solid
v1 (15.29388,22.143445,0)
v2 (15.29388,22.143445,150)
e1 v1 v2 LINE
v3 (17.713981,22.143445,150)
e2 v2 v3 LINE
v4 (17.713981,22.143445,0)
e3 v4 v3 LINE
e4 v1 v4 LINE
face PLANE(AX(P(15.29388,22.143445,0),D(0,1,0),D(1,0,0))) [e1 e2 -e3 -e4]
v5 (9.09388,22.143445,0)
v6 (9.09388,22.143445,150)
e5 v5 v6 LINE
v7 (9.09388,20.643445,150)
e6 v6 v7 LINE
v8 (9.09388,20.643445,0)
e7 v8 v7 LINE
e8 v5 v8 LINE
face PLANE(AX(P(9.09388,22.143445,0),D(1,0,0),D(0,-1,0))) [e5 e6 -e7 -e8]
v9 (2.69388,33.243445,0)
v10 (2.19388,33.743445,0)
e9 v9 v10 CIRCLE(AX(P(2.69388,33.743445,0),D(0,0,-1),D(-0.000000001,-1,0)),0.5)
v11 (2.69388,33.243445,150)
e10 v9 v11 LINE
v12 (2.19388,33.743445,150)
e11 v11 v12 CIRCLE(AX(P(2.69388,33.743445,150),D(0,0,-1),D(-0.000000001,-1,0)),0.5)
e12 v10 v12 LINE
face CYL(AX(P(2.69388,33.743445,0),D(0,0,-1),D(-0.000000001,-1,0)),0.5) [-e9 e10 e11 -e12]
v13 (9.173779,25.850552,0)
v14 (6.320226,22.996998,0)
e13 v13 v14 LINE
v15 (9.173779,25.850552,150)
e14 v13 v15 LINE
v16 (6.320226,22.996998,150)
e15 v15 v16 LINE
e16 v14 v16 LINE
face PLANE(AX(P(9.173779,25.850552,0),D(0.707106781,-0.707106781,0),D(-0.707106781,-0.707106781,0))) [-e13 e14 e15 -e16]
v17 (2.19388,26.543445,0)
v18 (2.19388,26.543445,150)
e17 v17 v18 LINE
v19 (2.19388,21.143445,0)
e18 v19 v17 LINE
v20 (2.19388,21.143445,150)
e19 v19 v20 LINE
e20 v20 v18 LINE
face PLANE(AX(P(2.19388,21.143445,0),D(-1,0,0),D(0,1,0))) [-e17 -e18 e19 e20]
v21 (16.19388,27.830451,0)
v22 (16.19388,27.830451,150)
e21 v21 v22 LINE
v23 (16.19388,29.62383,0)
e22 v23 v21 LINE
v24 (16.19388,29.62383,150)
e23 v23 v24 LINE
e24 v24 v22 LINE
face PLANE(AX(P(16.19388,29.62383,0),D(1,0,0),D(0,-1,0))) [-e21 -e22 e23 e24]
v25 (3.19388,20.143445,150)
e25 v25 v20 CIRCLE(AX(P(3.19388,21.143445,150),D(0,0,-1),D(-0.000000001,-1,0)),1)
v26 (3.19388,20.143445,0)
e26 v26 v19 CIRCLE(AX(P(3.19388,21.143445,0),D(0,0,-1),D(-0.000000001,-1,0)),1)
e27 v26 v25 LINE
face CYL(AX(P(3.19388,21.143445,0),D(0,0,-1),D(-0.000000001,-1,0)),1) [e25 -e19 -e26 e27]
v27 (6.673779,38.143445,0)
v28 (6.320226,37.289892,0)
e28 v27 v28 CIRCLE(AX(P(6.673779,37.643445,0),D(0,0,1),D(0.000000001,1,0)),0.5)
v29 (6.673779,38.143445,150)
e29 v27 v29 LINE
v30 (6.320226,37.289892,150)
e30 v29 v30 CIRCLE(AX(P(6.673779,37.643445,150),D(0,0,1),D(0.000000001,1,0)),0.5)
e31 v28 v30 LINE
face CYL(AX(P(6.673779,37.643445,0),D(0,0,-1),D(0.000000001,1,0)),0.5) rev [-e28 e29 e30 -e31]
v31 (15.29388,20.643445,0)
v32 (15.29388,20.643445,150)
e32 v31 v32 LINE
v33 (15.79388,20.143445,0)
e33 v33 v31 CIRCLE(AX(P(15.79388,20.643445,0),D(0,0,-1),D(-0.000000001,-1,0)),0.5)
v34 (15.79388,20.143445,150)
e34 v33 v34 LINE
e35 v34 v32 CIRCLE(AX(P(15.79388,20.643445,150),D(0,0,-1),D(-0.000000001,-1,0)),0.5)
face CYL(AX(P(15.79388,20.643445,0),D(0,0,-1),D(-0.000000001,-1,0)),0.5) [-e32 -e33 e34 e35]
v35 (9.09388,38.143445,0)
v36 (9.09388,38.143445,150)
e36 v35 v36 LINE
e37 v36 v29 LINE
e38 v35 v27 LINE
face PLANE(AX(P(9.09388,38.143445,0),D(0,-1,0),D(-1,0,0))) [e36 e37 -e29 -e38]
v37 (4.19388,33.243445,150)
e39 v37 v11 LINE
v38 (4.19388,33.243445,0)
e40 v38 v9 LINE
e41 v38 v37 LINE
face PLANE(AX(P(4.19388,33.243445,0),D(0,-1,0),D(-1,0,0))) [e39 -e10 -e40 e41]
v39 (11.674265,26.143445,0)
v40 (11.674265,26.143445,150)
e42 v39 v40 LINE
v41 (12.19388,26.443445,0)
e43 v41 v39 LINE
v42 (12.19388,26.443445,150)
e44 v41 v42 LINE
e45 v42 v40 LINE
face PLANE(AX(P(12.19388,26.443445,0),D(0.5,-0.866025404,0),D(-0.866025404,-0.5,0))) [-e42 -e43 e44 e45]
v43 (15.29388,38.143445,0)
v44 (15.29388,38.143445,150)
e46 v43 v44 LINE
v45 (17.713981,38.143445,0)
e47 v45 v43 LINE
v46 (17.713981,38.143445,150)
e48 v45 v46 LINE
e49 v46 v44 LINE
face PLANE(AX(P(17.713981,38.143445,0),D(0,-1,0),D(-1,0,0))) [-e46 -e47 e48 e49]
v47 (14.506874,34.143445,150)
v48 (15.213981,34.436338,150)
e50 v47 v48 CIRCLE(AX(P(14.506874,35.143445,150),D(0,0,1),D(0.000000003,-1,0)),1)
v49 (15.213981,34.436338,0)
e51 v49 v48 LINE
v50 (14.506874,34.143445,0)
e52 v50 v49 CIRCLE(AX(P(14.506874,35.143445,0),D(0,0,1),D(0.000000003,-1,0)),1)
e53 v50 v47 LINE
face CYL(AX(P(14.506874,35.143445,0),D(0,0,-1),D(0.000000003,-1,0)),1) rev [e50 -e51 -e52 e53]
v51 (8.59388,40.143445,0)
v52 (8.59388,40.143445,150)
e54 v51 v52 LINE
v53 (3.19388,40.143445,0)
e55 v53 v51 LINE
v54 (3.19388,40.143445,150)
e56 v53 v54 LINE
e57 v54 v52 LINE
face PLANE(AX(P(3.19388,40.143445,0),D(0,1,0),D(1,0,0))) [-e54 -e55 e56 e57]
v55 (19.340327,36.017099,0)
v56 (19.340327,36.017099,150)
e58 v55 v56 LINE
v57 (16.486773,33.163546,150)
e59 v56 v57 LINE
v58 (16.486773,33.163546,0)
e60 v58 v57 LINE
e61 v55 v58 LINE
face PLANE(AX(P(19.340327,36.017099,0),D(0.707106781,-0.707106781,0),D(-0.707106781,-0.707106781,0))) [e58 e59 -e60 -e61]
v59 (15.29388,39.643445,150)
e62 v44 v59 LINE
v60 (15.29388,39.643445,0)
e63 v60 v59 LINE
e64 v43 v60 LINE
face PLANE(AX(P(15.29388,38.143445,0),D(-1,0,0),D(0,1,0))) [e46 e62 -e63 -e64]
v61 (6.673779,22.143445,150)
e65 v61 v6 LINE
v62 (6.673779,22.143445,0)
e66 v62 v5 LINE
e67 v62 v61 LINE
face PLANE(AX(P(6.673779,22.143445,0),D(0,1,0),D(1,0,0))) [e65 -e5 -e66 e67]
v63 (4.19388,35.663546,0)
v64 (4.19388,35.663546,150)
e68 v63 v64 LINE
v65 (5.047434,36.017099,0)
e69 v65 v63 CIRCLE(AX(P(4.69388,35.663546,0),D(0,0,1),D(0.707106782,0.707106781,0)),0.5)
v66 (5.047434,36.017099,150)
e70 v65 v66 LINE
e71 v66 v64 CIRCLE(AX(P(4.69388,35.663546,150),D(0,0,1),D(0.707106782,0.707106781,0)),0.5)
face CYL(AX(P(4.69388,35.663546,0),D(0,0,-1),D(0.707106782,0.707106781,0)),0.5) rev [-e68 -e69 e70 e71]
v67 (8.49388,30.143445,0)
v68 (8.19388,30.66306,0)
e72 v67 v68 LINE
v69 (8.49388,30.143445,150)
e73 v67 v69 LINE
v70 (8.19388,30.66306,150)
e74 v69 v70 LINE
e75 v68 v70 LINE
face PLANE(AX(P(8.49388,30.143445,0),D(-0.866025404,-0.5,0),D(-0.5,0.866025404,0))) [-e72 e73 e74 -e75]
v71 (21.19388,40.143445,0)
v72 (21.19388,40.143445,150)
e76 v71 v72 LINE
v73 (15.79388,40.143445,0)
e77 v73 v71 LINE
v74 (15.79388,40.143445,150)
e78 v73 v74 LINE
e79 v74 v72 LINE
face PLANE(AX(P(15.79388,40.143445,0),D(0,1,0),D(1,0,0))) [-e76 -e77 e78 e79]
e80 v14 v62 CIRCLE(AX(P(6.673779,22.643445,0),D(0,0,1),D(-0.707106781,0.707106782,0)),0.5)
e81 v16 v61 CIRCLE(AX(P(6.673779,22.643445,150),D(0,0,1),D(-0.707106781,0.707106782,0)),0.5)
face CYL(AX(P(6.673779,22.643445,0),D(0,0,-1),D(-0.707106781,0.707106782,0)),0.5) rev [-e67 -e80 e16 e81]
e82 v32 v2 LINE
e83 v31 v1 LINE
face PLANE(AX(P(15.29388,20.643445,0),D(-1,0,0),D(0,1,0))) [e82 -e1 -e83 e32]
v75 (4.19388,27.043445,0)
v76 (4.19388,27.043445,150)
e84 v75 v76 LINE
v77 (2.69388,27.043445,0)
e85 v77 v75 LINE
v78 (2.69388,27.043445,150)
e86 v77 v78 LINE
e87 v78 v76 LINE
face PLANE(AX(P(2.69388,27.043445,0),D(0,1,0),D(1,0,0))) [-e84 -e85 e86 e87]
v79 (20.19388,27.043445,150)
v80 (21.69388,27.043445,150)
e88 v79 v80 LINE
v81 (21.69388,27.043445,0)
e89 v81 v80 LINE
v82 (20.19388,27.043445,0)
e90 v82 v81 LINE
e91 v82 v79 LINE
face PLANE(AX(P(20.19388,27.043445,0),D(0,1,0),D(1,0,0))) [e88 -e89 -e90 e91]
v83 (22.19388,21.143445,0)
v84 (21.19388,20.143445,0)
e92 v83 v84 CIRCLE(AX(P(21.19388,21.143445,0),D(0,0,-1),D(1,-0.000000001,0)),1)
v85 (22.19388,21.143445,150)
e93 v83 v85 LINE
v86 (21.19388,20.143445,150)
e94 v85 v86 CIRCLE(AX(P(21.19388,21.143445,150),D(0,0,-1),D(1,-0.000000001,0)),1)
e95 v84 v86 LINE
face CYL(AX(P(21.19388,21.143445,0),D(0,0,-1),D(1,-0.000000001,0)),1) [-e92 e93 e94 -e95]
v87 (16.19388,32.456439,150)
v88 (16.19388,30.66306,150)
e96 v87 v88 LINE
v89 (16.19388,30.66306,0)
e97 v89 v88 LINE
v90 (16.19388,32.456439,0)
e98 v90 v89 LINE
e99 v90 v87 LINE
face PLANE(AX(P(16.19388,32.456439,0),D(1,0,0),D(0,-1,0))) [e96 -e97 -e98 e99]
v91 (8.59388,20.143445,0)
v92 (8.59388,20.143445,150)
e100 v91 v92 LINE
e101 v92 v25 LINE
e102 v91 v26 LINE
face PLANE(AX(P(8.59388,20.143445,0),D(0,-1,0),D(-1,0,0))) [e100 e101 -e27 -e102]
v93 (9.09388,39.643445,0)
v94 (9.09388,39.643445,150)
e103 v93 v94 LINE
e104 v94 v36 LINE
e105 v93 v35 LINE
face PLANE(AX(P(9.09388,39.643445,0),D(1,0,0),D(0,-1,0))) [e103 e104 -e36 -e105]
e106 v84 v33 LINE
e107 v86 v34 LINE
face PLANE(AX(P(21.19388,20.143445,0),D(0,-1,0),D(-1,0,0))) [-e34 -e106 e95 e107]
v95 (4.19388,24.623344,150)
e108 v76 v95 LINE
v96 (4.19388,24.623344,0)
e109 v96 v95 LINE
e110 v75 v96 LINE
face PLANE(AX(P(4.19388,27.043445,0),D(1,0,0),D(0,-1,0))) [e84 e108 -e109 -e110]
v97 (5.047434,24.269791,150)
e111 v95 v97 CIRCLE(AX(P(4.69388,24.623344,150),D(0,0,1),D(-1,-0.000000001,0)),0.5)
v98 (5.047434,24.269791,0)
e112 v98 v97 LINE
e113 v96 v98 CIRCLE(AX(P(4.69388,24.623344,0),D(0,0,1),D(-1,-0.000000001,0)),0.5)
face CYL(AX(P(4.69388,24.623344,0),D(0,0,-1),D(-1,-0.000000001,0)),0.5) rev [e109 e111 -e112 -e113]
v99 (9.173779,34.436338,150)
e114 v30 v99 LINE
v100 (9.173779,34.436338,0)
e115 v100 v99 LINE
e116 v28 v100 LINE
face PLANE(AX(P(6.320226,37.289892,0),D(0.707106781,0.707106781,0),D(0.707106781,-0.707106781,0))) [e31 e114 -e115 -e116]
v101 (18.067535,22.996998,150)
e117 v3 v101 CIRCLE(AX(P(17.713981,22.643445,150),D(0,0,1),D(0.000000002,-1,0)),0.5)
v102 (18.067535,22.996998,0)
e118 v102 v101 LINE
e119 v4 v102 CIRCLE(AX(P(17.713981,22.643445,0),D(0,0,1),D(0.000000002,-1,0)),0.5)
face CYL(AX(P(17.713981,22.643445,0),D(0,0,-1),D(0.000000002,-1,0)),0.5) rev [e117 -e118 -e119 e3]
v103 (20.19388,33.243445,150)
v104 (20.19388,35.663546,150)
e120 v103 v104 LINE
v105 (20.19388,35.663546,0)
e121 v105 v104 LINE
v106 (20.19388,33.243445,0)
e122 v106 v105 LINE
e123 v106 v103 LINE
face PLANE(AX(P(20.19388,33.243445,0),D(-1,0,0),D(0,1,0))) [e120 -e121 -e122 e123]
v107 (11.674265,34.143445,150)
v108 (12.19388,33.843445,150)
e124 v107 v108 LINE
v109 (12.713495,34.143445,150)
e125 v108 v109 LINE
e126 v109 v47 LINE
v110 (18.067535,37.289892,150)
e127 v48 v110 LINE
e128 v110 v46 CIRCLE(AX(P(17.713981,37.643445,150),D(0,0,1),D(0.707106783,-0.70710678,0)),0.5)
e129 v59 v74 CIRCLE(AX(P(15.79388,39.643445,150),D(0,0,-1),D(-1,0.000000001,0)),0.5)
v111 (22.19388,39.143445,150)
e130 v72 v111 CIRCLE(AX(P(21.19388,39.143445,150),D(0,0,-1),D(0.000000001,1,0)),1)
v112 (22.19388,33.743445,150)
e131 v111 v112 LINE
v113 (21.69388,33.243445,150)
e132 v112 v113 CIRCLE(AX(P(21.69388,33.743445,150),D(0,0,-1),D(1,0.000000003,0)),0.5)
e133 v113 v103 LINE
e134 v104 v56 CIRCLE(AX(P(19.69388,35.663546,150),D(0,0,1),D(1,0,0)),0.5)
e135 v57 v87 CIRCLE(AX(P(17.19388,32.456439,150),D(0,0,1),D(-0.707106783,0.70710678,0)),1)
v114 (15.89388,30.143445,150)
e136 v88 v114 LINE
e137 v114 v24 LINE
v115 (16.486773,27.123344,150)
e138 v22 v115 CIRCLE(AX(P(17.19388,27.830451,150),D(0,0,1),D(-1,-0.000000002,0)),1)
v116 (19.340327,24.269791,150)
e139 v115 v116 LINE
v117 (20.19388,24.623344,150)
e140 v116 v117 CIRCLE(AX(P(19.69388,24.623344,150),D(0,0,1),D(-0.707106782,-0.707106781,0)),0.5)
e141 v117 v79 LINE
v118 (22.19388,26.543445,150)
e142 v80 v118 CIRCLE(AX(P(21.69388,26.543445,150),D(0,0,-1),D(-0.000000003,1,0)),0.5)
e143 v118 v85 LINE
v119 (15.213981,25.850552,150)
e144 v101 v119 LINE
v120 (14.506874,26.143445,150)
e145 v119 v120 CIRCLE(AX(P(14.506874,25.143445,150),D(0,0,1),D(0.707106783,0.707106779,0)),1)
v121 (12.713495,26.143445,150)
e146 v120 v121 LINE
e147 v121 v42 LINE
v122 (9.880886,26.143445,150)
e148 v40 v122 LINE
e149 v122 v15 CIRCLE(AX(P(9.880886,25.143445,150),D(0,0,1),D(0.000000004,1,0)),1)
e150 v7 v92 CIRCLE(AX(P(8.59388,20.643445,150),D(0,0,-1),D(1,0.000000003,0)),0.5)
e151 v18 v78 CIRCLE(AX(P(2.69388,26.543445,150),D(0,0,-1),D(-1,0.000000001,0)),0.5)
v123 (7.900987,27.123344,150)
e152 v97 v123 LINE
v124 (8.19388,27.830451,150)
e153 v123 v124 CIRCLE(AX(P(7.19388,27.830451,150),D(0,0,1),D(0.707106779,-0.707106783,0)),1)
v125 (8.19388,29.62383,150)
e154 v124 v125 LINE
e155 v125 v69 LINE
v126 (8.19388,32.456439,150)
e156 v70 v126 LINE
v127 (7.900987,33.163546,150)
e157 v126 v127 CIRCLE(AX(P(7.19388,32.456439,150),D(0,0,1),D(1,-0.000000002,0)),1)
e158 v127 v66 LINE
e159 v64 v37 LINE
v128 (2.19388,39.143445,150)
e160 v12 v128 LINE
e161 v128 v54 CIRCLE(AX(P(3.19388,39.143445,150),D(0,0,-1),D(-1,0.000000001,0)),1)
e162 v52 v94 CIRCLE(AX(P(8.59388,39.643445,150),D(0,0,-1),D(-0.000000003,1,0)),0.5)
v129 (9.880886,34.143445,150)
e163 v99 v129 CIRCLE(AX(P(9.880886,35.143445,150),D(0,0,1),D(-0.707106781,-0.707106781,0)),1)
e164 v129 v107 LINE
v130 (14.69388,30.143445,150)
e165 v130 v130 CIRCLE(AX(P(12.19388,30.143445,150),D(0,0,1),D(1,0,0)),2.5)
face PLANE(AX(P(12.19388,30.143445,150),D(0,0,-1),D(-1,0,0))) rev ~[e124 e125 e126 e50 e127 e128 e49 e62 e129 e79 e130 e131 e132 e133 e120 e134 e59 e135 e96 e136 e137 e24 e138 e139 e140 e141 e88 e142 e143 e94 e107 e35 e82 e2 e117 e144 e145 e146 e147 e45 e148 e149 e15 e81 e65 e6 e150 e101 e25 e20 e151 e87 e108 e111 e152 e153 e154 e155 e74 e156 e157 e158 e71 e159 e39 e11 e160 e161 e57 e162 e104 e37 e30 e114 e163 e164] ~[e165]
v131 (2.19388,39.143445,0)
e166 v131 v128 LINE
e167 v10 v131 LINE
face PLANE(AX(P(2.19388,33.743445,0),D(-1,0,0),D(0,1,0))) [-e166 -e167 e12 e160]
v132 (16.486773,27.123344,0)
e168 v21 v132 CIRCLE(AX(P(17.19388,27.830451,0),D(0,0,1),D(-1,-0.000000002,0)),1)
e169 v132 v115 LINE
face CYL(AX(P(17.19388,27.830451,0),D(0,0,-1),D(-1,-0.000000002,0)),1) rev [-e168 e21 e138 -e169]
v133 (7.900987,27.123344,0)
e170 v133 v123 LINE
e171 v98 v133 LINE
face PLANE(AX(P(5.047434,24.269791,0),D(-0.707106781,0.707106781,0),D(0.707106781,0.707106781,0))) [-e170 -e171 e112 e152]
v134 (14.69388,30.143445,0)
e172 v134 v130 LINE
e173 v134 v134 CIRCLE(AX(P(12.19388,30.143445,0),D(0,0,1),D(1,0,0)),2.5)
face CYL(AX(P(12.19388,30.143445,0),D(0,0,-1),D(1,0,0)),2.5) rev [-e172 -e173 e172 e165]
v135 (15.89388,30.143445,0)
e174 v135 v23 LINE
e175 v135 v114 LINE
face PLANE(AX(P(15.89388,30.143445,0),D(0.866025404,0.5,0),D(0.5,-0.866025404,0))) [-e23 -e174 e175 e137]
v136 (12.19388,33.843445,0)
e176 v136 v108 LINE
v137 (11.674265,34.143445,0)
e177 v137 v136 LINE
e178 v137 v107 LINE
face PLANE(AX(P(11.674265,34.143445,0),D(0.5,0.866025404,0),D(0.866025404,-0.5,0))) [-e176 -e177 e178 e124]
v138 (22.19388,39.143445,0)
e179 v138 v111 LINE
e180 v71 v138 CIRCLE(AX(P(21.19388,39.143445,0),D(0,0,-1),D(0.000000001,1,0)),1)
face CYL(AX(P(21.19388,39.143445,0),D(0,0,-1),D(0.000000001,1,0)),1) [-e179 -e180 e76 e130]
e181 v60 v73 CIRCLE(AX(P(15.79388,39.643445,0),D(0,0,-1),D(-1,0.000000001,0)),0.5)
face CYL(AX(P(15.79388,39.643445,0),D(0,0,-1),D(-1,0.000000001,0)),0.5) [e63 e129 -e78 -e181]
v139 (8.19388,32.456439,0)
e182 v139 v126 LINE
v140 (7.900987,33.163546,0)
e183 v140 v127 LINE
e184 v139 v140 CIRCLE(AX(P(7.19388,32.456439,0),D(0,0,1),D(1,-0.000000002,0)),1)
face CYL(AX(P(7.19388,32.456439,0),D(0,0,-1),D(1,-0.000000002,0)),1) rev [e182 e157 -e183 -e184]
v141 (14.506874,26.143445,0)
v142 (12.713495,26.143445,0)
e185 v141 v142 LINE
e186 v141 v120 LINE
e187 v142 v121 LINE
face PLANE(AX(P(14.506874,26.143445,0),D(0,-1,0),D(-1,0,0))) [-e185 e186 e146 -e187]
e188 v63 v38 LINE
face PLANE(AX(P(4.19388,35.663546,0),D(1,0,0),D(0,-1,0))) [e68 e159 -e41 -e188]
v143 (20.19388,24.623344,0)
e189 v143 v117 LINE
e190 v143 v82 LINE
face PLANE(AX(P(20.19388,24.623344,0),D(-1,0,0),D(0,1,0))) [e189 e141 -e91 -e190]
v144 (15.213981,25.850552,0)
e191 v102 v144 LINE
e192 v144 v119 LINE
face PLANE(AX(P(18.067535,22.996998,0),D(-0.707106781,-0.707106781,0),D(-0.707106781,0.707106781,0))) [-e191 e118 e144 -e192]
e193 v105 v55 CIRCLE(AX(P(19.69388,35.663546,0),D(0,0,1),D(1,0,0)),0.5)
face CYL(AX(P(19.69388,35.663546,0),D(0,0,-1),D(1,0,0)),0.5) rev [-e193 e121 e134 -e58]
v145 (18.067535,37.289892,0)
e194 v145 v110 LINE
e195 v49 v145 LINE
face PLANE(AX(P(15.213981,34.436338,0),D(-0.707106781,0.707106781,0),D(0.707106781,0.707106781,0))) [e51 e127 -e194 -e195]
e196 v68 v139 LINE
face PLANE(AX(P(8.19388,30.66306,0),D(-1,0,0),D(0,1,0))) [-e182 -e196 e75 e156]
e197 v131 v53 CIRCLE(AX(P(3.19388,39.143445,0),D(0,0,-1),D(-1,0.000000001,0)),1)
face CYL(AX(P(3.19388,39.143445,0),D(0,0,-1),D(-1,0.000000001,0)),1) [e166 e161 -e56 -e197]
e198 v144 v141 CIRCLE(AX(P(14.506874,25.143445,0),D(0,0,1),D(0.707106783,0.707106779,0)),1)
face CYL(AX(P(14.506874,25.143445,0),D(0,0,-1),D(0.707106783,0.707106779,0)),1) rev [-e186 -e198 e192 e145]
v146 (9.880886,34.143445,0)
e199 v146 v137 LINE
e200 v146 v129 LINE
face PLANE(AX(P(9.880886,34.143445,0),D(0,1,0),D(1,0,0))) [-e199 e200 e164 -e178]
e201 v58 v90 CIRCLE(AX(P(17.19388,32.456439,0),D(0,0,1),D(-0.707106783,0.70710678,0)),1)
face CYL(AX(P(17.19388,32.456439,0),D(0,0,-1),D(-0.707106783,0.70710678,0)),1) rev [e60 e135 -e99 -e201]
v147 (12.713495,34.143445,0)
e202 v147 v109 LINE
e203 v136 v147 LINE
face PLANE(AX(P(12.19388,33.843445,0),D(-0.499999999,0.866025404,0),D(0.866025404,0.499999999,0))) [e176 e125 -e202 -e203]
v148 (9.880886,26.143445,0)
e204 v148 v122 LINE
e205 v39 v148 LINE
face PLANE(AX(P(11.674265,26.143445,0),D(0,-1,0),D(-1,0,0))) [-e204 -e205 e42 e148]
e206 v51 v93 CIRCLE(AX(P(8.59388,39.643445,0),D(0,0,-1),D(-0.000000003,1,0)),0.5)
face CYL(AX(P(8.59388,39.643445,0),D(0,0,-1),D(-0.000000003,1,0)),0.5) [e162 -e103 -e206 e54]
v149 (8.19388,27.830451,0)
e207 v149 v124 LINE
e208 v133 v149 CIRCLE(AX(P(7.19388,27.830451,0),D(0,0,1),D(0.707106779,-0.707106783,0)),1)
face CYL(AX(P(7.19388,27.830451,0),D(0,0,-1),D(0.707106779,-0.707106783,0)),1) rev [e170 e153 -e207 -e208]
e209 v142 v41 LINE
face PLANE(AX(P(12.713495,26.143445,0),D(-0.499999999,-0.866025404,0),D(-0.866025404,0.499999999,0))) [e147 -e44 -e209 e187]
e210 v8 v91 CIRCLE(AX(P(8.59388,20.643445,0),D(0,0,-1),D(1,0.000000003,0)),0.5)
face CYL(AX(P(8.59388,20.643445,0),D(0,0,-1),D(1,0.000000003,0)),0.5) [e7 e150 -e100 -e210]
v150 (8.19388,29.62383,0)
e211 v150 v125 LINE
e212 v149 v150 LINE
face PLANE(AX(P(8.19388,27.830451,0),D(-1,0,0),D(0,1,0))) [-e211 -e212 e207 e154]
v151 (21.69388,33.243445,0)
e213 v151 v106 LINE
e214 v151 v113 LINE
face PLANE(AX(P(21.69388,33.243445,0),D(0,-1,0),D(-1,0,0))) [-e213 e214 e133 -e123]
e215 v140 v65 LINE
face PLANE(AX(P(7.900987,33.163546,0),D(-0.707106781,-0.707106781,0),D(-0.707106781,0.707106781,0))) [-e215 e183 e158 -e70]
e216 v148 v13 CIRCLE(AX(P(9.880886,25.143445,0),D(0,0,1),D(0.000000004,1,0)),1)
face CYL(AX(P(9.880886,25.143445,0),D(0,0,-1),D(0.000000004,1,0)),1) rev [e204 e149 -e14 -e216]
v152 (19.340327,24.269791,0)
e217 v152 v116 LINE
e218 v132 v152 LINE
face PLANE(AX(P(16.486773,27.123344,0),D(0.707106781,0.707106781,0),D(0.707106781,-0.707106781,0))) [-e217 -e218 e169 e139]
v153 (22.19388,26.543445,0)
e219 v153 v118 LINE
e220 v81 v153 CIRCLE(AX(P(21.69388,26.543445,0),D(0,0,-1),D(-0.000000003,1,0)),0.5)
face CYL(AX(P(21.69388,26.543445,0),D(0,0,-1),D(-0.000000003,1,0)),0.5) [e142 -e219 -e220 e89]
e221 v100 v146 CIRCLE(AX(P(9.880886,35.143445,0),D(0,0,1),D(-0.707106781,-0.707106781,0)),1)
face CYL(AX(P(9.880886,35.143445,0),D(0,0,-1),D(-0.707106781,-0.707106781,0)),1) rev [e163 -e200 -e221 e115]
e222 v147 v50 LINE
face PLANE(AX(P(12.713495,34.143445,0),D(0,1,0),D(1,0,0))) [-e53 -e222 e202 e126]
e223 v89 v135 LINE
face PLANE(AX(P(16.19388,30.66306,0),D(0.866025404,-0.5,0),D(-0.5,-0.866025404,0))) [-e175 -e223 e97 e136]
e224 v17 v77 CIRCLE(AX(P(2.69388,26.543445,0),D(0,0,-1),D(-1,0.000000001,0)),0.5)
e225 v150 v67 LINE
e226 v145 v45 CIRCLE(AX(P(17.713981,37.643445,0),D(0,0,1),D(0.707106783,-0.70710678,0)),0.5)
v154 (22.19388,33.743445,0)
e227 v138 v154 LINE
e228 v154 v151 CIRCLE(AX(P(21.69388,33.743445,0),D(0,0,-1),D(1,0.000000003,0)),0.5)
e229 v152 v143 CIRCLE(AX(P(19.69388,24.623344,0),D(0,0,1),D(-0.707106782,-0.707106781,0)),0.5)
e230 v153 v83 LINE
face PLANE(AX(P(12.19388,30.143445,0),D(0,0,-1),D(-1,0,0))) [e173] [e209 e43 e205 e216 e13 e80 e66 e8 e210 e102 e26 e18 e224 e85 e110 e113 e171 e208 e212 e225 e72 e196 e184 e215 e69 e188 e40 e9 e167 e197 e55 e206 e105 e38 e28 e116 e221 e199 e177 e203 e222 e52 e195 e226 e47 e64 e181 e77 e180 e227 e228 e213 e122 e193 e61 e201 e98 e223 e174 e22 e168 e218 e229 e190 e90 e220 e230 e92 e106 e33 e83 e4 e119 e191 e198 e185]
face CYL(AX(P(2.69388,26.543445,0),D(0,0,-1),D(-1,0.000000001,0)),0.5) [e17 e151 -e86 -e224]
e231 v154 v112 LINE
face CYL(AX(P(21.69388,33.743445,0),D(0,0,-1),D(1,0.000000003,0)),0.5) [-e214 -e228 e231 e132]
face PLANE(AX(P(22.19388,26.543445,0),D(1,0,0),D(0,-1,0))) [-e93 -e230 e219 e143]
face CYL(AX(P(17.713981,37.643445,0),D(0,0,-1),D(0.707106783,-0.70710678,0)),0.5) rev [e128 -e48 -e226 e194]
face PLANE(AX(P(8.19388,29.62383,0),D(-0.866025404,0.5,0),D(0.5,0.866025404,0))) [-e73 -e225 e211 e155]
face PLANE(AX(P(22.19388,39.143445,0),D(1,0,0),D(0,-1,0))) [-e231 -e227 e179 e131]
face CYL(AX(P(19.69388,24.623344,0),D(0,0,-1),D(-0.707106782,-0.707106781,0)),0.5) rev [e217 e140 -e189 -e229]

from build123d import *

# Parameters (mm, degrees)
SKETCH_1_R      = 2.5
EXTRUDE_1_DEPTH = 150


with BuildPart() as part:
    # 草图1 → 凸台-拉伸1 (new body)
    with BuildSketch(Plane.XY):
        with BuildLine():
            Line((16.486773435, 27.123343944), (19.340326826, 24.269790554))
            ThreePointArc((19.340326826, 24.269790554), (19.885221932, 24.161404178), (20.193880216, 24.623343944))
            Line((20.193880216, 24.623343944), (20.193880216, 27.043444957))
            Line((20.193880216, 27.043444957), (21.693880216, 27.043444957))
            ThreePointArc((21.693880216, 27.043444957), (22.047433607, 26.896998348), (22.193880216, 26.543444957))
            Line((22.193880216, 26.543444957), (22.193880216, 21.143444957))
            ThreePointArc((22.193880216, 21.143444957), (21.900986997, 20.436338176), (21.193880216, 20.143444957))
            Line((21.193880216, 20.143444957), (15.793880216, 20.143444957))
            ThreePointArc((15.793880216, 20.143444957), (15.440326826, 20.289891566), (15.293880216, 20.643444957))
            Line((15.293880216, 20.643444957), (15.293880216, 22.143444957))
            Line((15.293880216, 22.143444957), (17.713981229, 22.143444957))
            ThreePointArc((17.713981229, 22.143444957), (18.175920995, 22.452103241), (18.06753462, 22.996998348))
            Line((18.06753462, 22.996998348), (15.213981229, 25.850551738))
            ThreePointArc((15.213981229, 25.850551738), (14.88955788, 26.06732449), (14.506874448, 26.143444957))
            Line((14.506874448, 26.143444957), (12.713495459, 26.143444957))
            Line((12.713495459, 26.143444957), (12.193880216, 26.443444957))
            Line((12.193880216, 26.443444957), (11.674264974, 26.143444957))
            Line((11.674264974, 26.143444957), (9.880885985, 26.143444957))
            ThreePointArc((9.880885985, 26.143444957), (9.498202552, 26.06732449), (9.173779204, 25.850551738))
            Line((9.173779204, 25.850551738), (6.320225813, 22.996998348))
            ThreePointArc((6.320225813, 22.996998348), (6.211839437, 22.452103241), (6.673779204, 22.143444957))
            Line((6.673779204, 22.143444957), (9.093880216, 22.143444957))
            Line((9.093880216, 22.143444957), (9.093880216, 20.643444957))
            ThreePointArc((9.093880216, 20.643444957), (8.947433607, 20.289891566), (8.593880216, 20.143444957))
            Line((8.593880216, 20.143444957), (3.193880216, 20.143444957))
            ThreePointArc((3.193880216, 20.143444957), (2.486773435, 20.436338176), (2.193880216, 21.143444957))
            Line((2.193880216, 21.143444957), (2.193880216, 26.543444957))
            ThreePointArc((2.193880216, 26.543444957), (2.340326826, 26.896998348), (2.693880216, 27.043444957))
            Line((2.693880216, 27.043444957), (4.193880216, 27.043444957))
            Line((4.193880216, 27.043444957), (4.193880216, 24.623343944))
            ThreePointArc((4.193880216, 24.623343944), (4.5025385, 24.161404178), (5.047433607, 24.269790554))
            Line((5.047433607, 24.269790554), (7.900986997, 27.123343944))
            ThreePointArc((7.900986997, 27.123343944), (8.117759749, 27.447767293), (8.193880216, 27.830450726))
            Line((8.193880216, 27.830450726), (8.193880216, 29.623829715))
            Line((8.193880216, 29.623829715), (8.493880216, 30.143444957))
            Line((8.493880216, 30.143444957), (8.193880216, 30.663060199))
            Line((8.193880216, 30.663060199), (8.193880216, 32.456439189))
            ThreePointArc((8.193880216, 32.456439189), (8.117759749, 32.839122621), (7.900986997, 33.16354597))
            Line((7.900986997, 33.16354597), (5.047433607, 36.01709936))
            ThreePointArc((5.047433607, 36.01709936), (4.5025385, 36.125485736), (4.193880216, 35.66354597))
            Line((4.193880216, 35.66354597), (4.193880216, 33.243444957))
            Line((4.193880216, 33.243444957), (2.693880216, 33.243444957))
            ThreePointArc((2.693880216, 33.243444957), (2.340326826, 33.389891566), (2.193880216, 33.743444957))
            Line((2.193880216, 33.743444957), (2.193880216, 39.143444957))
            ThreePointArc((2.193880216, 39.143444957), (2.486773435, 39.850551738), (3.193880216, 40.143444957))
            Line((3.193880216, 40.143444957), (8.593880216, 40.143444957))
            ThreePointArc((8.593880216, 40.143444957), (8.947433607, 39.996998348), (9.093880216, 39.643444957))
            Line((9.093880216, 39.643444957), (9.093880216, 38.143444957))
            Line((9.093880216, 38.143444957), (6.673779204, 38.143444957))
            ThreePointArc((6.673779204, 38.143444957), (6.211839437, 37.834786673), (6.320225813, 37.289891566))
            Line((6.320225813, 37.289891566), (9.173779204, 34.436338176))
            ThreePointArc((9.173779204, 34.436338176), (9.498202552, 34.219565425), (9.880885985, 34.143444957))
            Line((9.880885985, 34.143444957), (11.674264974, 34.143444957))
            Line((11.674264974, 34.143444957), (12.193880216, 33.843444957))
            Line((12.193880216, 33.843444957), (12.713495459, 34.143444957))
            Line((12.713495459, 34.143444957), (14.506874448, 34.143444957))
            ThreePointArc((14.506874448, 34.143444957), (14.88955788, 34.219565425), (15.213981229, 34.436338176))
            Line((15.213981229, 34.436338176), (18.06753462, 37.289891566))
            ThreePointArc((18.06753462, 37.289891566), (18.175920995, 37.834786673), (17.713981229, 38.143444957))
            Line((17.713981229, 38.143444957), (15.293880216, 38.143444957))
            Line((15.293880216, 38.143444957), (15.293880216, 39.643444957))
            ThreePointArc((15.293880216, 39.643444957), (15.440326826, 39.996998348), (15.793880216, 40.143444957))
            Line((15.793880216, 40.143444957), (21.193880216, 40.143444957))
            ThreePointArc((21.193880216, 40.143444957), (21.900986997, 39.850551738), (22.193880216, 39.143444957))
            Line((22.193880216, 39.143444957), (22.193880216, 33.743444957))
            ThreePointArc((22.193880216, 33.743444957), (22.047433607, 33.389891566), (21.693880216, 33.243444957))
            Line((21.693880216, 33.243444957), (20.193880216, 33.243444957))
            Line((20.193880216, 33.243444957), (20.193880216, 35.66354597))
            ThreePointArc((20.193880216, 35.66354597), (19.885221932, 36.125485736), (19.340326826, 36.01709936))
            Line((19.340326826, 36.01709936), (16.486773435, 33.16354597))
            ThreePointArc((16.486773435, 33.16354597), (16.270000684, 32.839122621), (16.193880216, 32.456439189))
            Line((16.193880216, 32.456439189), (16.193880216, 30.663060199))
            Line((16.193880216, 30.663060199), (15.893880216, 30.143444957))
            Line((15.893880216, 30.143444957), (16.193880216, 29.623829715))
            Line((16.193880216, 29.623829715), (16.193880216, 27.830450726))
            ThreePointArc((16.193880216, 27.830450726), (16.270000684, 27.447767293), (16.486773435, 27.123343944))
        make_face()
        with Locations((12.193880216, 30.143444957)):
            Circle(SKETCH_1_R, mode=Mode.SUBTRACT)
    extrude(amount=EXTRUDE_1_DEPTH)


solid = part.part
